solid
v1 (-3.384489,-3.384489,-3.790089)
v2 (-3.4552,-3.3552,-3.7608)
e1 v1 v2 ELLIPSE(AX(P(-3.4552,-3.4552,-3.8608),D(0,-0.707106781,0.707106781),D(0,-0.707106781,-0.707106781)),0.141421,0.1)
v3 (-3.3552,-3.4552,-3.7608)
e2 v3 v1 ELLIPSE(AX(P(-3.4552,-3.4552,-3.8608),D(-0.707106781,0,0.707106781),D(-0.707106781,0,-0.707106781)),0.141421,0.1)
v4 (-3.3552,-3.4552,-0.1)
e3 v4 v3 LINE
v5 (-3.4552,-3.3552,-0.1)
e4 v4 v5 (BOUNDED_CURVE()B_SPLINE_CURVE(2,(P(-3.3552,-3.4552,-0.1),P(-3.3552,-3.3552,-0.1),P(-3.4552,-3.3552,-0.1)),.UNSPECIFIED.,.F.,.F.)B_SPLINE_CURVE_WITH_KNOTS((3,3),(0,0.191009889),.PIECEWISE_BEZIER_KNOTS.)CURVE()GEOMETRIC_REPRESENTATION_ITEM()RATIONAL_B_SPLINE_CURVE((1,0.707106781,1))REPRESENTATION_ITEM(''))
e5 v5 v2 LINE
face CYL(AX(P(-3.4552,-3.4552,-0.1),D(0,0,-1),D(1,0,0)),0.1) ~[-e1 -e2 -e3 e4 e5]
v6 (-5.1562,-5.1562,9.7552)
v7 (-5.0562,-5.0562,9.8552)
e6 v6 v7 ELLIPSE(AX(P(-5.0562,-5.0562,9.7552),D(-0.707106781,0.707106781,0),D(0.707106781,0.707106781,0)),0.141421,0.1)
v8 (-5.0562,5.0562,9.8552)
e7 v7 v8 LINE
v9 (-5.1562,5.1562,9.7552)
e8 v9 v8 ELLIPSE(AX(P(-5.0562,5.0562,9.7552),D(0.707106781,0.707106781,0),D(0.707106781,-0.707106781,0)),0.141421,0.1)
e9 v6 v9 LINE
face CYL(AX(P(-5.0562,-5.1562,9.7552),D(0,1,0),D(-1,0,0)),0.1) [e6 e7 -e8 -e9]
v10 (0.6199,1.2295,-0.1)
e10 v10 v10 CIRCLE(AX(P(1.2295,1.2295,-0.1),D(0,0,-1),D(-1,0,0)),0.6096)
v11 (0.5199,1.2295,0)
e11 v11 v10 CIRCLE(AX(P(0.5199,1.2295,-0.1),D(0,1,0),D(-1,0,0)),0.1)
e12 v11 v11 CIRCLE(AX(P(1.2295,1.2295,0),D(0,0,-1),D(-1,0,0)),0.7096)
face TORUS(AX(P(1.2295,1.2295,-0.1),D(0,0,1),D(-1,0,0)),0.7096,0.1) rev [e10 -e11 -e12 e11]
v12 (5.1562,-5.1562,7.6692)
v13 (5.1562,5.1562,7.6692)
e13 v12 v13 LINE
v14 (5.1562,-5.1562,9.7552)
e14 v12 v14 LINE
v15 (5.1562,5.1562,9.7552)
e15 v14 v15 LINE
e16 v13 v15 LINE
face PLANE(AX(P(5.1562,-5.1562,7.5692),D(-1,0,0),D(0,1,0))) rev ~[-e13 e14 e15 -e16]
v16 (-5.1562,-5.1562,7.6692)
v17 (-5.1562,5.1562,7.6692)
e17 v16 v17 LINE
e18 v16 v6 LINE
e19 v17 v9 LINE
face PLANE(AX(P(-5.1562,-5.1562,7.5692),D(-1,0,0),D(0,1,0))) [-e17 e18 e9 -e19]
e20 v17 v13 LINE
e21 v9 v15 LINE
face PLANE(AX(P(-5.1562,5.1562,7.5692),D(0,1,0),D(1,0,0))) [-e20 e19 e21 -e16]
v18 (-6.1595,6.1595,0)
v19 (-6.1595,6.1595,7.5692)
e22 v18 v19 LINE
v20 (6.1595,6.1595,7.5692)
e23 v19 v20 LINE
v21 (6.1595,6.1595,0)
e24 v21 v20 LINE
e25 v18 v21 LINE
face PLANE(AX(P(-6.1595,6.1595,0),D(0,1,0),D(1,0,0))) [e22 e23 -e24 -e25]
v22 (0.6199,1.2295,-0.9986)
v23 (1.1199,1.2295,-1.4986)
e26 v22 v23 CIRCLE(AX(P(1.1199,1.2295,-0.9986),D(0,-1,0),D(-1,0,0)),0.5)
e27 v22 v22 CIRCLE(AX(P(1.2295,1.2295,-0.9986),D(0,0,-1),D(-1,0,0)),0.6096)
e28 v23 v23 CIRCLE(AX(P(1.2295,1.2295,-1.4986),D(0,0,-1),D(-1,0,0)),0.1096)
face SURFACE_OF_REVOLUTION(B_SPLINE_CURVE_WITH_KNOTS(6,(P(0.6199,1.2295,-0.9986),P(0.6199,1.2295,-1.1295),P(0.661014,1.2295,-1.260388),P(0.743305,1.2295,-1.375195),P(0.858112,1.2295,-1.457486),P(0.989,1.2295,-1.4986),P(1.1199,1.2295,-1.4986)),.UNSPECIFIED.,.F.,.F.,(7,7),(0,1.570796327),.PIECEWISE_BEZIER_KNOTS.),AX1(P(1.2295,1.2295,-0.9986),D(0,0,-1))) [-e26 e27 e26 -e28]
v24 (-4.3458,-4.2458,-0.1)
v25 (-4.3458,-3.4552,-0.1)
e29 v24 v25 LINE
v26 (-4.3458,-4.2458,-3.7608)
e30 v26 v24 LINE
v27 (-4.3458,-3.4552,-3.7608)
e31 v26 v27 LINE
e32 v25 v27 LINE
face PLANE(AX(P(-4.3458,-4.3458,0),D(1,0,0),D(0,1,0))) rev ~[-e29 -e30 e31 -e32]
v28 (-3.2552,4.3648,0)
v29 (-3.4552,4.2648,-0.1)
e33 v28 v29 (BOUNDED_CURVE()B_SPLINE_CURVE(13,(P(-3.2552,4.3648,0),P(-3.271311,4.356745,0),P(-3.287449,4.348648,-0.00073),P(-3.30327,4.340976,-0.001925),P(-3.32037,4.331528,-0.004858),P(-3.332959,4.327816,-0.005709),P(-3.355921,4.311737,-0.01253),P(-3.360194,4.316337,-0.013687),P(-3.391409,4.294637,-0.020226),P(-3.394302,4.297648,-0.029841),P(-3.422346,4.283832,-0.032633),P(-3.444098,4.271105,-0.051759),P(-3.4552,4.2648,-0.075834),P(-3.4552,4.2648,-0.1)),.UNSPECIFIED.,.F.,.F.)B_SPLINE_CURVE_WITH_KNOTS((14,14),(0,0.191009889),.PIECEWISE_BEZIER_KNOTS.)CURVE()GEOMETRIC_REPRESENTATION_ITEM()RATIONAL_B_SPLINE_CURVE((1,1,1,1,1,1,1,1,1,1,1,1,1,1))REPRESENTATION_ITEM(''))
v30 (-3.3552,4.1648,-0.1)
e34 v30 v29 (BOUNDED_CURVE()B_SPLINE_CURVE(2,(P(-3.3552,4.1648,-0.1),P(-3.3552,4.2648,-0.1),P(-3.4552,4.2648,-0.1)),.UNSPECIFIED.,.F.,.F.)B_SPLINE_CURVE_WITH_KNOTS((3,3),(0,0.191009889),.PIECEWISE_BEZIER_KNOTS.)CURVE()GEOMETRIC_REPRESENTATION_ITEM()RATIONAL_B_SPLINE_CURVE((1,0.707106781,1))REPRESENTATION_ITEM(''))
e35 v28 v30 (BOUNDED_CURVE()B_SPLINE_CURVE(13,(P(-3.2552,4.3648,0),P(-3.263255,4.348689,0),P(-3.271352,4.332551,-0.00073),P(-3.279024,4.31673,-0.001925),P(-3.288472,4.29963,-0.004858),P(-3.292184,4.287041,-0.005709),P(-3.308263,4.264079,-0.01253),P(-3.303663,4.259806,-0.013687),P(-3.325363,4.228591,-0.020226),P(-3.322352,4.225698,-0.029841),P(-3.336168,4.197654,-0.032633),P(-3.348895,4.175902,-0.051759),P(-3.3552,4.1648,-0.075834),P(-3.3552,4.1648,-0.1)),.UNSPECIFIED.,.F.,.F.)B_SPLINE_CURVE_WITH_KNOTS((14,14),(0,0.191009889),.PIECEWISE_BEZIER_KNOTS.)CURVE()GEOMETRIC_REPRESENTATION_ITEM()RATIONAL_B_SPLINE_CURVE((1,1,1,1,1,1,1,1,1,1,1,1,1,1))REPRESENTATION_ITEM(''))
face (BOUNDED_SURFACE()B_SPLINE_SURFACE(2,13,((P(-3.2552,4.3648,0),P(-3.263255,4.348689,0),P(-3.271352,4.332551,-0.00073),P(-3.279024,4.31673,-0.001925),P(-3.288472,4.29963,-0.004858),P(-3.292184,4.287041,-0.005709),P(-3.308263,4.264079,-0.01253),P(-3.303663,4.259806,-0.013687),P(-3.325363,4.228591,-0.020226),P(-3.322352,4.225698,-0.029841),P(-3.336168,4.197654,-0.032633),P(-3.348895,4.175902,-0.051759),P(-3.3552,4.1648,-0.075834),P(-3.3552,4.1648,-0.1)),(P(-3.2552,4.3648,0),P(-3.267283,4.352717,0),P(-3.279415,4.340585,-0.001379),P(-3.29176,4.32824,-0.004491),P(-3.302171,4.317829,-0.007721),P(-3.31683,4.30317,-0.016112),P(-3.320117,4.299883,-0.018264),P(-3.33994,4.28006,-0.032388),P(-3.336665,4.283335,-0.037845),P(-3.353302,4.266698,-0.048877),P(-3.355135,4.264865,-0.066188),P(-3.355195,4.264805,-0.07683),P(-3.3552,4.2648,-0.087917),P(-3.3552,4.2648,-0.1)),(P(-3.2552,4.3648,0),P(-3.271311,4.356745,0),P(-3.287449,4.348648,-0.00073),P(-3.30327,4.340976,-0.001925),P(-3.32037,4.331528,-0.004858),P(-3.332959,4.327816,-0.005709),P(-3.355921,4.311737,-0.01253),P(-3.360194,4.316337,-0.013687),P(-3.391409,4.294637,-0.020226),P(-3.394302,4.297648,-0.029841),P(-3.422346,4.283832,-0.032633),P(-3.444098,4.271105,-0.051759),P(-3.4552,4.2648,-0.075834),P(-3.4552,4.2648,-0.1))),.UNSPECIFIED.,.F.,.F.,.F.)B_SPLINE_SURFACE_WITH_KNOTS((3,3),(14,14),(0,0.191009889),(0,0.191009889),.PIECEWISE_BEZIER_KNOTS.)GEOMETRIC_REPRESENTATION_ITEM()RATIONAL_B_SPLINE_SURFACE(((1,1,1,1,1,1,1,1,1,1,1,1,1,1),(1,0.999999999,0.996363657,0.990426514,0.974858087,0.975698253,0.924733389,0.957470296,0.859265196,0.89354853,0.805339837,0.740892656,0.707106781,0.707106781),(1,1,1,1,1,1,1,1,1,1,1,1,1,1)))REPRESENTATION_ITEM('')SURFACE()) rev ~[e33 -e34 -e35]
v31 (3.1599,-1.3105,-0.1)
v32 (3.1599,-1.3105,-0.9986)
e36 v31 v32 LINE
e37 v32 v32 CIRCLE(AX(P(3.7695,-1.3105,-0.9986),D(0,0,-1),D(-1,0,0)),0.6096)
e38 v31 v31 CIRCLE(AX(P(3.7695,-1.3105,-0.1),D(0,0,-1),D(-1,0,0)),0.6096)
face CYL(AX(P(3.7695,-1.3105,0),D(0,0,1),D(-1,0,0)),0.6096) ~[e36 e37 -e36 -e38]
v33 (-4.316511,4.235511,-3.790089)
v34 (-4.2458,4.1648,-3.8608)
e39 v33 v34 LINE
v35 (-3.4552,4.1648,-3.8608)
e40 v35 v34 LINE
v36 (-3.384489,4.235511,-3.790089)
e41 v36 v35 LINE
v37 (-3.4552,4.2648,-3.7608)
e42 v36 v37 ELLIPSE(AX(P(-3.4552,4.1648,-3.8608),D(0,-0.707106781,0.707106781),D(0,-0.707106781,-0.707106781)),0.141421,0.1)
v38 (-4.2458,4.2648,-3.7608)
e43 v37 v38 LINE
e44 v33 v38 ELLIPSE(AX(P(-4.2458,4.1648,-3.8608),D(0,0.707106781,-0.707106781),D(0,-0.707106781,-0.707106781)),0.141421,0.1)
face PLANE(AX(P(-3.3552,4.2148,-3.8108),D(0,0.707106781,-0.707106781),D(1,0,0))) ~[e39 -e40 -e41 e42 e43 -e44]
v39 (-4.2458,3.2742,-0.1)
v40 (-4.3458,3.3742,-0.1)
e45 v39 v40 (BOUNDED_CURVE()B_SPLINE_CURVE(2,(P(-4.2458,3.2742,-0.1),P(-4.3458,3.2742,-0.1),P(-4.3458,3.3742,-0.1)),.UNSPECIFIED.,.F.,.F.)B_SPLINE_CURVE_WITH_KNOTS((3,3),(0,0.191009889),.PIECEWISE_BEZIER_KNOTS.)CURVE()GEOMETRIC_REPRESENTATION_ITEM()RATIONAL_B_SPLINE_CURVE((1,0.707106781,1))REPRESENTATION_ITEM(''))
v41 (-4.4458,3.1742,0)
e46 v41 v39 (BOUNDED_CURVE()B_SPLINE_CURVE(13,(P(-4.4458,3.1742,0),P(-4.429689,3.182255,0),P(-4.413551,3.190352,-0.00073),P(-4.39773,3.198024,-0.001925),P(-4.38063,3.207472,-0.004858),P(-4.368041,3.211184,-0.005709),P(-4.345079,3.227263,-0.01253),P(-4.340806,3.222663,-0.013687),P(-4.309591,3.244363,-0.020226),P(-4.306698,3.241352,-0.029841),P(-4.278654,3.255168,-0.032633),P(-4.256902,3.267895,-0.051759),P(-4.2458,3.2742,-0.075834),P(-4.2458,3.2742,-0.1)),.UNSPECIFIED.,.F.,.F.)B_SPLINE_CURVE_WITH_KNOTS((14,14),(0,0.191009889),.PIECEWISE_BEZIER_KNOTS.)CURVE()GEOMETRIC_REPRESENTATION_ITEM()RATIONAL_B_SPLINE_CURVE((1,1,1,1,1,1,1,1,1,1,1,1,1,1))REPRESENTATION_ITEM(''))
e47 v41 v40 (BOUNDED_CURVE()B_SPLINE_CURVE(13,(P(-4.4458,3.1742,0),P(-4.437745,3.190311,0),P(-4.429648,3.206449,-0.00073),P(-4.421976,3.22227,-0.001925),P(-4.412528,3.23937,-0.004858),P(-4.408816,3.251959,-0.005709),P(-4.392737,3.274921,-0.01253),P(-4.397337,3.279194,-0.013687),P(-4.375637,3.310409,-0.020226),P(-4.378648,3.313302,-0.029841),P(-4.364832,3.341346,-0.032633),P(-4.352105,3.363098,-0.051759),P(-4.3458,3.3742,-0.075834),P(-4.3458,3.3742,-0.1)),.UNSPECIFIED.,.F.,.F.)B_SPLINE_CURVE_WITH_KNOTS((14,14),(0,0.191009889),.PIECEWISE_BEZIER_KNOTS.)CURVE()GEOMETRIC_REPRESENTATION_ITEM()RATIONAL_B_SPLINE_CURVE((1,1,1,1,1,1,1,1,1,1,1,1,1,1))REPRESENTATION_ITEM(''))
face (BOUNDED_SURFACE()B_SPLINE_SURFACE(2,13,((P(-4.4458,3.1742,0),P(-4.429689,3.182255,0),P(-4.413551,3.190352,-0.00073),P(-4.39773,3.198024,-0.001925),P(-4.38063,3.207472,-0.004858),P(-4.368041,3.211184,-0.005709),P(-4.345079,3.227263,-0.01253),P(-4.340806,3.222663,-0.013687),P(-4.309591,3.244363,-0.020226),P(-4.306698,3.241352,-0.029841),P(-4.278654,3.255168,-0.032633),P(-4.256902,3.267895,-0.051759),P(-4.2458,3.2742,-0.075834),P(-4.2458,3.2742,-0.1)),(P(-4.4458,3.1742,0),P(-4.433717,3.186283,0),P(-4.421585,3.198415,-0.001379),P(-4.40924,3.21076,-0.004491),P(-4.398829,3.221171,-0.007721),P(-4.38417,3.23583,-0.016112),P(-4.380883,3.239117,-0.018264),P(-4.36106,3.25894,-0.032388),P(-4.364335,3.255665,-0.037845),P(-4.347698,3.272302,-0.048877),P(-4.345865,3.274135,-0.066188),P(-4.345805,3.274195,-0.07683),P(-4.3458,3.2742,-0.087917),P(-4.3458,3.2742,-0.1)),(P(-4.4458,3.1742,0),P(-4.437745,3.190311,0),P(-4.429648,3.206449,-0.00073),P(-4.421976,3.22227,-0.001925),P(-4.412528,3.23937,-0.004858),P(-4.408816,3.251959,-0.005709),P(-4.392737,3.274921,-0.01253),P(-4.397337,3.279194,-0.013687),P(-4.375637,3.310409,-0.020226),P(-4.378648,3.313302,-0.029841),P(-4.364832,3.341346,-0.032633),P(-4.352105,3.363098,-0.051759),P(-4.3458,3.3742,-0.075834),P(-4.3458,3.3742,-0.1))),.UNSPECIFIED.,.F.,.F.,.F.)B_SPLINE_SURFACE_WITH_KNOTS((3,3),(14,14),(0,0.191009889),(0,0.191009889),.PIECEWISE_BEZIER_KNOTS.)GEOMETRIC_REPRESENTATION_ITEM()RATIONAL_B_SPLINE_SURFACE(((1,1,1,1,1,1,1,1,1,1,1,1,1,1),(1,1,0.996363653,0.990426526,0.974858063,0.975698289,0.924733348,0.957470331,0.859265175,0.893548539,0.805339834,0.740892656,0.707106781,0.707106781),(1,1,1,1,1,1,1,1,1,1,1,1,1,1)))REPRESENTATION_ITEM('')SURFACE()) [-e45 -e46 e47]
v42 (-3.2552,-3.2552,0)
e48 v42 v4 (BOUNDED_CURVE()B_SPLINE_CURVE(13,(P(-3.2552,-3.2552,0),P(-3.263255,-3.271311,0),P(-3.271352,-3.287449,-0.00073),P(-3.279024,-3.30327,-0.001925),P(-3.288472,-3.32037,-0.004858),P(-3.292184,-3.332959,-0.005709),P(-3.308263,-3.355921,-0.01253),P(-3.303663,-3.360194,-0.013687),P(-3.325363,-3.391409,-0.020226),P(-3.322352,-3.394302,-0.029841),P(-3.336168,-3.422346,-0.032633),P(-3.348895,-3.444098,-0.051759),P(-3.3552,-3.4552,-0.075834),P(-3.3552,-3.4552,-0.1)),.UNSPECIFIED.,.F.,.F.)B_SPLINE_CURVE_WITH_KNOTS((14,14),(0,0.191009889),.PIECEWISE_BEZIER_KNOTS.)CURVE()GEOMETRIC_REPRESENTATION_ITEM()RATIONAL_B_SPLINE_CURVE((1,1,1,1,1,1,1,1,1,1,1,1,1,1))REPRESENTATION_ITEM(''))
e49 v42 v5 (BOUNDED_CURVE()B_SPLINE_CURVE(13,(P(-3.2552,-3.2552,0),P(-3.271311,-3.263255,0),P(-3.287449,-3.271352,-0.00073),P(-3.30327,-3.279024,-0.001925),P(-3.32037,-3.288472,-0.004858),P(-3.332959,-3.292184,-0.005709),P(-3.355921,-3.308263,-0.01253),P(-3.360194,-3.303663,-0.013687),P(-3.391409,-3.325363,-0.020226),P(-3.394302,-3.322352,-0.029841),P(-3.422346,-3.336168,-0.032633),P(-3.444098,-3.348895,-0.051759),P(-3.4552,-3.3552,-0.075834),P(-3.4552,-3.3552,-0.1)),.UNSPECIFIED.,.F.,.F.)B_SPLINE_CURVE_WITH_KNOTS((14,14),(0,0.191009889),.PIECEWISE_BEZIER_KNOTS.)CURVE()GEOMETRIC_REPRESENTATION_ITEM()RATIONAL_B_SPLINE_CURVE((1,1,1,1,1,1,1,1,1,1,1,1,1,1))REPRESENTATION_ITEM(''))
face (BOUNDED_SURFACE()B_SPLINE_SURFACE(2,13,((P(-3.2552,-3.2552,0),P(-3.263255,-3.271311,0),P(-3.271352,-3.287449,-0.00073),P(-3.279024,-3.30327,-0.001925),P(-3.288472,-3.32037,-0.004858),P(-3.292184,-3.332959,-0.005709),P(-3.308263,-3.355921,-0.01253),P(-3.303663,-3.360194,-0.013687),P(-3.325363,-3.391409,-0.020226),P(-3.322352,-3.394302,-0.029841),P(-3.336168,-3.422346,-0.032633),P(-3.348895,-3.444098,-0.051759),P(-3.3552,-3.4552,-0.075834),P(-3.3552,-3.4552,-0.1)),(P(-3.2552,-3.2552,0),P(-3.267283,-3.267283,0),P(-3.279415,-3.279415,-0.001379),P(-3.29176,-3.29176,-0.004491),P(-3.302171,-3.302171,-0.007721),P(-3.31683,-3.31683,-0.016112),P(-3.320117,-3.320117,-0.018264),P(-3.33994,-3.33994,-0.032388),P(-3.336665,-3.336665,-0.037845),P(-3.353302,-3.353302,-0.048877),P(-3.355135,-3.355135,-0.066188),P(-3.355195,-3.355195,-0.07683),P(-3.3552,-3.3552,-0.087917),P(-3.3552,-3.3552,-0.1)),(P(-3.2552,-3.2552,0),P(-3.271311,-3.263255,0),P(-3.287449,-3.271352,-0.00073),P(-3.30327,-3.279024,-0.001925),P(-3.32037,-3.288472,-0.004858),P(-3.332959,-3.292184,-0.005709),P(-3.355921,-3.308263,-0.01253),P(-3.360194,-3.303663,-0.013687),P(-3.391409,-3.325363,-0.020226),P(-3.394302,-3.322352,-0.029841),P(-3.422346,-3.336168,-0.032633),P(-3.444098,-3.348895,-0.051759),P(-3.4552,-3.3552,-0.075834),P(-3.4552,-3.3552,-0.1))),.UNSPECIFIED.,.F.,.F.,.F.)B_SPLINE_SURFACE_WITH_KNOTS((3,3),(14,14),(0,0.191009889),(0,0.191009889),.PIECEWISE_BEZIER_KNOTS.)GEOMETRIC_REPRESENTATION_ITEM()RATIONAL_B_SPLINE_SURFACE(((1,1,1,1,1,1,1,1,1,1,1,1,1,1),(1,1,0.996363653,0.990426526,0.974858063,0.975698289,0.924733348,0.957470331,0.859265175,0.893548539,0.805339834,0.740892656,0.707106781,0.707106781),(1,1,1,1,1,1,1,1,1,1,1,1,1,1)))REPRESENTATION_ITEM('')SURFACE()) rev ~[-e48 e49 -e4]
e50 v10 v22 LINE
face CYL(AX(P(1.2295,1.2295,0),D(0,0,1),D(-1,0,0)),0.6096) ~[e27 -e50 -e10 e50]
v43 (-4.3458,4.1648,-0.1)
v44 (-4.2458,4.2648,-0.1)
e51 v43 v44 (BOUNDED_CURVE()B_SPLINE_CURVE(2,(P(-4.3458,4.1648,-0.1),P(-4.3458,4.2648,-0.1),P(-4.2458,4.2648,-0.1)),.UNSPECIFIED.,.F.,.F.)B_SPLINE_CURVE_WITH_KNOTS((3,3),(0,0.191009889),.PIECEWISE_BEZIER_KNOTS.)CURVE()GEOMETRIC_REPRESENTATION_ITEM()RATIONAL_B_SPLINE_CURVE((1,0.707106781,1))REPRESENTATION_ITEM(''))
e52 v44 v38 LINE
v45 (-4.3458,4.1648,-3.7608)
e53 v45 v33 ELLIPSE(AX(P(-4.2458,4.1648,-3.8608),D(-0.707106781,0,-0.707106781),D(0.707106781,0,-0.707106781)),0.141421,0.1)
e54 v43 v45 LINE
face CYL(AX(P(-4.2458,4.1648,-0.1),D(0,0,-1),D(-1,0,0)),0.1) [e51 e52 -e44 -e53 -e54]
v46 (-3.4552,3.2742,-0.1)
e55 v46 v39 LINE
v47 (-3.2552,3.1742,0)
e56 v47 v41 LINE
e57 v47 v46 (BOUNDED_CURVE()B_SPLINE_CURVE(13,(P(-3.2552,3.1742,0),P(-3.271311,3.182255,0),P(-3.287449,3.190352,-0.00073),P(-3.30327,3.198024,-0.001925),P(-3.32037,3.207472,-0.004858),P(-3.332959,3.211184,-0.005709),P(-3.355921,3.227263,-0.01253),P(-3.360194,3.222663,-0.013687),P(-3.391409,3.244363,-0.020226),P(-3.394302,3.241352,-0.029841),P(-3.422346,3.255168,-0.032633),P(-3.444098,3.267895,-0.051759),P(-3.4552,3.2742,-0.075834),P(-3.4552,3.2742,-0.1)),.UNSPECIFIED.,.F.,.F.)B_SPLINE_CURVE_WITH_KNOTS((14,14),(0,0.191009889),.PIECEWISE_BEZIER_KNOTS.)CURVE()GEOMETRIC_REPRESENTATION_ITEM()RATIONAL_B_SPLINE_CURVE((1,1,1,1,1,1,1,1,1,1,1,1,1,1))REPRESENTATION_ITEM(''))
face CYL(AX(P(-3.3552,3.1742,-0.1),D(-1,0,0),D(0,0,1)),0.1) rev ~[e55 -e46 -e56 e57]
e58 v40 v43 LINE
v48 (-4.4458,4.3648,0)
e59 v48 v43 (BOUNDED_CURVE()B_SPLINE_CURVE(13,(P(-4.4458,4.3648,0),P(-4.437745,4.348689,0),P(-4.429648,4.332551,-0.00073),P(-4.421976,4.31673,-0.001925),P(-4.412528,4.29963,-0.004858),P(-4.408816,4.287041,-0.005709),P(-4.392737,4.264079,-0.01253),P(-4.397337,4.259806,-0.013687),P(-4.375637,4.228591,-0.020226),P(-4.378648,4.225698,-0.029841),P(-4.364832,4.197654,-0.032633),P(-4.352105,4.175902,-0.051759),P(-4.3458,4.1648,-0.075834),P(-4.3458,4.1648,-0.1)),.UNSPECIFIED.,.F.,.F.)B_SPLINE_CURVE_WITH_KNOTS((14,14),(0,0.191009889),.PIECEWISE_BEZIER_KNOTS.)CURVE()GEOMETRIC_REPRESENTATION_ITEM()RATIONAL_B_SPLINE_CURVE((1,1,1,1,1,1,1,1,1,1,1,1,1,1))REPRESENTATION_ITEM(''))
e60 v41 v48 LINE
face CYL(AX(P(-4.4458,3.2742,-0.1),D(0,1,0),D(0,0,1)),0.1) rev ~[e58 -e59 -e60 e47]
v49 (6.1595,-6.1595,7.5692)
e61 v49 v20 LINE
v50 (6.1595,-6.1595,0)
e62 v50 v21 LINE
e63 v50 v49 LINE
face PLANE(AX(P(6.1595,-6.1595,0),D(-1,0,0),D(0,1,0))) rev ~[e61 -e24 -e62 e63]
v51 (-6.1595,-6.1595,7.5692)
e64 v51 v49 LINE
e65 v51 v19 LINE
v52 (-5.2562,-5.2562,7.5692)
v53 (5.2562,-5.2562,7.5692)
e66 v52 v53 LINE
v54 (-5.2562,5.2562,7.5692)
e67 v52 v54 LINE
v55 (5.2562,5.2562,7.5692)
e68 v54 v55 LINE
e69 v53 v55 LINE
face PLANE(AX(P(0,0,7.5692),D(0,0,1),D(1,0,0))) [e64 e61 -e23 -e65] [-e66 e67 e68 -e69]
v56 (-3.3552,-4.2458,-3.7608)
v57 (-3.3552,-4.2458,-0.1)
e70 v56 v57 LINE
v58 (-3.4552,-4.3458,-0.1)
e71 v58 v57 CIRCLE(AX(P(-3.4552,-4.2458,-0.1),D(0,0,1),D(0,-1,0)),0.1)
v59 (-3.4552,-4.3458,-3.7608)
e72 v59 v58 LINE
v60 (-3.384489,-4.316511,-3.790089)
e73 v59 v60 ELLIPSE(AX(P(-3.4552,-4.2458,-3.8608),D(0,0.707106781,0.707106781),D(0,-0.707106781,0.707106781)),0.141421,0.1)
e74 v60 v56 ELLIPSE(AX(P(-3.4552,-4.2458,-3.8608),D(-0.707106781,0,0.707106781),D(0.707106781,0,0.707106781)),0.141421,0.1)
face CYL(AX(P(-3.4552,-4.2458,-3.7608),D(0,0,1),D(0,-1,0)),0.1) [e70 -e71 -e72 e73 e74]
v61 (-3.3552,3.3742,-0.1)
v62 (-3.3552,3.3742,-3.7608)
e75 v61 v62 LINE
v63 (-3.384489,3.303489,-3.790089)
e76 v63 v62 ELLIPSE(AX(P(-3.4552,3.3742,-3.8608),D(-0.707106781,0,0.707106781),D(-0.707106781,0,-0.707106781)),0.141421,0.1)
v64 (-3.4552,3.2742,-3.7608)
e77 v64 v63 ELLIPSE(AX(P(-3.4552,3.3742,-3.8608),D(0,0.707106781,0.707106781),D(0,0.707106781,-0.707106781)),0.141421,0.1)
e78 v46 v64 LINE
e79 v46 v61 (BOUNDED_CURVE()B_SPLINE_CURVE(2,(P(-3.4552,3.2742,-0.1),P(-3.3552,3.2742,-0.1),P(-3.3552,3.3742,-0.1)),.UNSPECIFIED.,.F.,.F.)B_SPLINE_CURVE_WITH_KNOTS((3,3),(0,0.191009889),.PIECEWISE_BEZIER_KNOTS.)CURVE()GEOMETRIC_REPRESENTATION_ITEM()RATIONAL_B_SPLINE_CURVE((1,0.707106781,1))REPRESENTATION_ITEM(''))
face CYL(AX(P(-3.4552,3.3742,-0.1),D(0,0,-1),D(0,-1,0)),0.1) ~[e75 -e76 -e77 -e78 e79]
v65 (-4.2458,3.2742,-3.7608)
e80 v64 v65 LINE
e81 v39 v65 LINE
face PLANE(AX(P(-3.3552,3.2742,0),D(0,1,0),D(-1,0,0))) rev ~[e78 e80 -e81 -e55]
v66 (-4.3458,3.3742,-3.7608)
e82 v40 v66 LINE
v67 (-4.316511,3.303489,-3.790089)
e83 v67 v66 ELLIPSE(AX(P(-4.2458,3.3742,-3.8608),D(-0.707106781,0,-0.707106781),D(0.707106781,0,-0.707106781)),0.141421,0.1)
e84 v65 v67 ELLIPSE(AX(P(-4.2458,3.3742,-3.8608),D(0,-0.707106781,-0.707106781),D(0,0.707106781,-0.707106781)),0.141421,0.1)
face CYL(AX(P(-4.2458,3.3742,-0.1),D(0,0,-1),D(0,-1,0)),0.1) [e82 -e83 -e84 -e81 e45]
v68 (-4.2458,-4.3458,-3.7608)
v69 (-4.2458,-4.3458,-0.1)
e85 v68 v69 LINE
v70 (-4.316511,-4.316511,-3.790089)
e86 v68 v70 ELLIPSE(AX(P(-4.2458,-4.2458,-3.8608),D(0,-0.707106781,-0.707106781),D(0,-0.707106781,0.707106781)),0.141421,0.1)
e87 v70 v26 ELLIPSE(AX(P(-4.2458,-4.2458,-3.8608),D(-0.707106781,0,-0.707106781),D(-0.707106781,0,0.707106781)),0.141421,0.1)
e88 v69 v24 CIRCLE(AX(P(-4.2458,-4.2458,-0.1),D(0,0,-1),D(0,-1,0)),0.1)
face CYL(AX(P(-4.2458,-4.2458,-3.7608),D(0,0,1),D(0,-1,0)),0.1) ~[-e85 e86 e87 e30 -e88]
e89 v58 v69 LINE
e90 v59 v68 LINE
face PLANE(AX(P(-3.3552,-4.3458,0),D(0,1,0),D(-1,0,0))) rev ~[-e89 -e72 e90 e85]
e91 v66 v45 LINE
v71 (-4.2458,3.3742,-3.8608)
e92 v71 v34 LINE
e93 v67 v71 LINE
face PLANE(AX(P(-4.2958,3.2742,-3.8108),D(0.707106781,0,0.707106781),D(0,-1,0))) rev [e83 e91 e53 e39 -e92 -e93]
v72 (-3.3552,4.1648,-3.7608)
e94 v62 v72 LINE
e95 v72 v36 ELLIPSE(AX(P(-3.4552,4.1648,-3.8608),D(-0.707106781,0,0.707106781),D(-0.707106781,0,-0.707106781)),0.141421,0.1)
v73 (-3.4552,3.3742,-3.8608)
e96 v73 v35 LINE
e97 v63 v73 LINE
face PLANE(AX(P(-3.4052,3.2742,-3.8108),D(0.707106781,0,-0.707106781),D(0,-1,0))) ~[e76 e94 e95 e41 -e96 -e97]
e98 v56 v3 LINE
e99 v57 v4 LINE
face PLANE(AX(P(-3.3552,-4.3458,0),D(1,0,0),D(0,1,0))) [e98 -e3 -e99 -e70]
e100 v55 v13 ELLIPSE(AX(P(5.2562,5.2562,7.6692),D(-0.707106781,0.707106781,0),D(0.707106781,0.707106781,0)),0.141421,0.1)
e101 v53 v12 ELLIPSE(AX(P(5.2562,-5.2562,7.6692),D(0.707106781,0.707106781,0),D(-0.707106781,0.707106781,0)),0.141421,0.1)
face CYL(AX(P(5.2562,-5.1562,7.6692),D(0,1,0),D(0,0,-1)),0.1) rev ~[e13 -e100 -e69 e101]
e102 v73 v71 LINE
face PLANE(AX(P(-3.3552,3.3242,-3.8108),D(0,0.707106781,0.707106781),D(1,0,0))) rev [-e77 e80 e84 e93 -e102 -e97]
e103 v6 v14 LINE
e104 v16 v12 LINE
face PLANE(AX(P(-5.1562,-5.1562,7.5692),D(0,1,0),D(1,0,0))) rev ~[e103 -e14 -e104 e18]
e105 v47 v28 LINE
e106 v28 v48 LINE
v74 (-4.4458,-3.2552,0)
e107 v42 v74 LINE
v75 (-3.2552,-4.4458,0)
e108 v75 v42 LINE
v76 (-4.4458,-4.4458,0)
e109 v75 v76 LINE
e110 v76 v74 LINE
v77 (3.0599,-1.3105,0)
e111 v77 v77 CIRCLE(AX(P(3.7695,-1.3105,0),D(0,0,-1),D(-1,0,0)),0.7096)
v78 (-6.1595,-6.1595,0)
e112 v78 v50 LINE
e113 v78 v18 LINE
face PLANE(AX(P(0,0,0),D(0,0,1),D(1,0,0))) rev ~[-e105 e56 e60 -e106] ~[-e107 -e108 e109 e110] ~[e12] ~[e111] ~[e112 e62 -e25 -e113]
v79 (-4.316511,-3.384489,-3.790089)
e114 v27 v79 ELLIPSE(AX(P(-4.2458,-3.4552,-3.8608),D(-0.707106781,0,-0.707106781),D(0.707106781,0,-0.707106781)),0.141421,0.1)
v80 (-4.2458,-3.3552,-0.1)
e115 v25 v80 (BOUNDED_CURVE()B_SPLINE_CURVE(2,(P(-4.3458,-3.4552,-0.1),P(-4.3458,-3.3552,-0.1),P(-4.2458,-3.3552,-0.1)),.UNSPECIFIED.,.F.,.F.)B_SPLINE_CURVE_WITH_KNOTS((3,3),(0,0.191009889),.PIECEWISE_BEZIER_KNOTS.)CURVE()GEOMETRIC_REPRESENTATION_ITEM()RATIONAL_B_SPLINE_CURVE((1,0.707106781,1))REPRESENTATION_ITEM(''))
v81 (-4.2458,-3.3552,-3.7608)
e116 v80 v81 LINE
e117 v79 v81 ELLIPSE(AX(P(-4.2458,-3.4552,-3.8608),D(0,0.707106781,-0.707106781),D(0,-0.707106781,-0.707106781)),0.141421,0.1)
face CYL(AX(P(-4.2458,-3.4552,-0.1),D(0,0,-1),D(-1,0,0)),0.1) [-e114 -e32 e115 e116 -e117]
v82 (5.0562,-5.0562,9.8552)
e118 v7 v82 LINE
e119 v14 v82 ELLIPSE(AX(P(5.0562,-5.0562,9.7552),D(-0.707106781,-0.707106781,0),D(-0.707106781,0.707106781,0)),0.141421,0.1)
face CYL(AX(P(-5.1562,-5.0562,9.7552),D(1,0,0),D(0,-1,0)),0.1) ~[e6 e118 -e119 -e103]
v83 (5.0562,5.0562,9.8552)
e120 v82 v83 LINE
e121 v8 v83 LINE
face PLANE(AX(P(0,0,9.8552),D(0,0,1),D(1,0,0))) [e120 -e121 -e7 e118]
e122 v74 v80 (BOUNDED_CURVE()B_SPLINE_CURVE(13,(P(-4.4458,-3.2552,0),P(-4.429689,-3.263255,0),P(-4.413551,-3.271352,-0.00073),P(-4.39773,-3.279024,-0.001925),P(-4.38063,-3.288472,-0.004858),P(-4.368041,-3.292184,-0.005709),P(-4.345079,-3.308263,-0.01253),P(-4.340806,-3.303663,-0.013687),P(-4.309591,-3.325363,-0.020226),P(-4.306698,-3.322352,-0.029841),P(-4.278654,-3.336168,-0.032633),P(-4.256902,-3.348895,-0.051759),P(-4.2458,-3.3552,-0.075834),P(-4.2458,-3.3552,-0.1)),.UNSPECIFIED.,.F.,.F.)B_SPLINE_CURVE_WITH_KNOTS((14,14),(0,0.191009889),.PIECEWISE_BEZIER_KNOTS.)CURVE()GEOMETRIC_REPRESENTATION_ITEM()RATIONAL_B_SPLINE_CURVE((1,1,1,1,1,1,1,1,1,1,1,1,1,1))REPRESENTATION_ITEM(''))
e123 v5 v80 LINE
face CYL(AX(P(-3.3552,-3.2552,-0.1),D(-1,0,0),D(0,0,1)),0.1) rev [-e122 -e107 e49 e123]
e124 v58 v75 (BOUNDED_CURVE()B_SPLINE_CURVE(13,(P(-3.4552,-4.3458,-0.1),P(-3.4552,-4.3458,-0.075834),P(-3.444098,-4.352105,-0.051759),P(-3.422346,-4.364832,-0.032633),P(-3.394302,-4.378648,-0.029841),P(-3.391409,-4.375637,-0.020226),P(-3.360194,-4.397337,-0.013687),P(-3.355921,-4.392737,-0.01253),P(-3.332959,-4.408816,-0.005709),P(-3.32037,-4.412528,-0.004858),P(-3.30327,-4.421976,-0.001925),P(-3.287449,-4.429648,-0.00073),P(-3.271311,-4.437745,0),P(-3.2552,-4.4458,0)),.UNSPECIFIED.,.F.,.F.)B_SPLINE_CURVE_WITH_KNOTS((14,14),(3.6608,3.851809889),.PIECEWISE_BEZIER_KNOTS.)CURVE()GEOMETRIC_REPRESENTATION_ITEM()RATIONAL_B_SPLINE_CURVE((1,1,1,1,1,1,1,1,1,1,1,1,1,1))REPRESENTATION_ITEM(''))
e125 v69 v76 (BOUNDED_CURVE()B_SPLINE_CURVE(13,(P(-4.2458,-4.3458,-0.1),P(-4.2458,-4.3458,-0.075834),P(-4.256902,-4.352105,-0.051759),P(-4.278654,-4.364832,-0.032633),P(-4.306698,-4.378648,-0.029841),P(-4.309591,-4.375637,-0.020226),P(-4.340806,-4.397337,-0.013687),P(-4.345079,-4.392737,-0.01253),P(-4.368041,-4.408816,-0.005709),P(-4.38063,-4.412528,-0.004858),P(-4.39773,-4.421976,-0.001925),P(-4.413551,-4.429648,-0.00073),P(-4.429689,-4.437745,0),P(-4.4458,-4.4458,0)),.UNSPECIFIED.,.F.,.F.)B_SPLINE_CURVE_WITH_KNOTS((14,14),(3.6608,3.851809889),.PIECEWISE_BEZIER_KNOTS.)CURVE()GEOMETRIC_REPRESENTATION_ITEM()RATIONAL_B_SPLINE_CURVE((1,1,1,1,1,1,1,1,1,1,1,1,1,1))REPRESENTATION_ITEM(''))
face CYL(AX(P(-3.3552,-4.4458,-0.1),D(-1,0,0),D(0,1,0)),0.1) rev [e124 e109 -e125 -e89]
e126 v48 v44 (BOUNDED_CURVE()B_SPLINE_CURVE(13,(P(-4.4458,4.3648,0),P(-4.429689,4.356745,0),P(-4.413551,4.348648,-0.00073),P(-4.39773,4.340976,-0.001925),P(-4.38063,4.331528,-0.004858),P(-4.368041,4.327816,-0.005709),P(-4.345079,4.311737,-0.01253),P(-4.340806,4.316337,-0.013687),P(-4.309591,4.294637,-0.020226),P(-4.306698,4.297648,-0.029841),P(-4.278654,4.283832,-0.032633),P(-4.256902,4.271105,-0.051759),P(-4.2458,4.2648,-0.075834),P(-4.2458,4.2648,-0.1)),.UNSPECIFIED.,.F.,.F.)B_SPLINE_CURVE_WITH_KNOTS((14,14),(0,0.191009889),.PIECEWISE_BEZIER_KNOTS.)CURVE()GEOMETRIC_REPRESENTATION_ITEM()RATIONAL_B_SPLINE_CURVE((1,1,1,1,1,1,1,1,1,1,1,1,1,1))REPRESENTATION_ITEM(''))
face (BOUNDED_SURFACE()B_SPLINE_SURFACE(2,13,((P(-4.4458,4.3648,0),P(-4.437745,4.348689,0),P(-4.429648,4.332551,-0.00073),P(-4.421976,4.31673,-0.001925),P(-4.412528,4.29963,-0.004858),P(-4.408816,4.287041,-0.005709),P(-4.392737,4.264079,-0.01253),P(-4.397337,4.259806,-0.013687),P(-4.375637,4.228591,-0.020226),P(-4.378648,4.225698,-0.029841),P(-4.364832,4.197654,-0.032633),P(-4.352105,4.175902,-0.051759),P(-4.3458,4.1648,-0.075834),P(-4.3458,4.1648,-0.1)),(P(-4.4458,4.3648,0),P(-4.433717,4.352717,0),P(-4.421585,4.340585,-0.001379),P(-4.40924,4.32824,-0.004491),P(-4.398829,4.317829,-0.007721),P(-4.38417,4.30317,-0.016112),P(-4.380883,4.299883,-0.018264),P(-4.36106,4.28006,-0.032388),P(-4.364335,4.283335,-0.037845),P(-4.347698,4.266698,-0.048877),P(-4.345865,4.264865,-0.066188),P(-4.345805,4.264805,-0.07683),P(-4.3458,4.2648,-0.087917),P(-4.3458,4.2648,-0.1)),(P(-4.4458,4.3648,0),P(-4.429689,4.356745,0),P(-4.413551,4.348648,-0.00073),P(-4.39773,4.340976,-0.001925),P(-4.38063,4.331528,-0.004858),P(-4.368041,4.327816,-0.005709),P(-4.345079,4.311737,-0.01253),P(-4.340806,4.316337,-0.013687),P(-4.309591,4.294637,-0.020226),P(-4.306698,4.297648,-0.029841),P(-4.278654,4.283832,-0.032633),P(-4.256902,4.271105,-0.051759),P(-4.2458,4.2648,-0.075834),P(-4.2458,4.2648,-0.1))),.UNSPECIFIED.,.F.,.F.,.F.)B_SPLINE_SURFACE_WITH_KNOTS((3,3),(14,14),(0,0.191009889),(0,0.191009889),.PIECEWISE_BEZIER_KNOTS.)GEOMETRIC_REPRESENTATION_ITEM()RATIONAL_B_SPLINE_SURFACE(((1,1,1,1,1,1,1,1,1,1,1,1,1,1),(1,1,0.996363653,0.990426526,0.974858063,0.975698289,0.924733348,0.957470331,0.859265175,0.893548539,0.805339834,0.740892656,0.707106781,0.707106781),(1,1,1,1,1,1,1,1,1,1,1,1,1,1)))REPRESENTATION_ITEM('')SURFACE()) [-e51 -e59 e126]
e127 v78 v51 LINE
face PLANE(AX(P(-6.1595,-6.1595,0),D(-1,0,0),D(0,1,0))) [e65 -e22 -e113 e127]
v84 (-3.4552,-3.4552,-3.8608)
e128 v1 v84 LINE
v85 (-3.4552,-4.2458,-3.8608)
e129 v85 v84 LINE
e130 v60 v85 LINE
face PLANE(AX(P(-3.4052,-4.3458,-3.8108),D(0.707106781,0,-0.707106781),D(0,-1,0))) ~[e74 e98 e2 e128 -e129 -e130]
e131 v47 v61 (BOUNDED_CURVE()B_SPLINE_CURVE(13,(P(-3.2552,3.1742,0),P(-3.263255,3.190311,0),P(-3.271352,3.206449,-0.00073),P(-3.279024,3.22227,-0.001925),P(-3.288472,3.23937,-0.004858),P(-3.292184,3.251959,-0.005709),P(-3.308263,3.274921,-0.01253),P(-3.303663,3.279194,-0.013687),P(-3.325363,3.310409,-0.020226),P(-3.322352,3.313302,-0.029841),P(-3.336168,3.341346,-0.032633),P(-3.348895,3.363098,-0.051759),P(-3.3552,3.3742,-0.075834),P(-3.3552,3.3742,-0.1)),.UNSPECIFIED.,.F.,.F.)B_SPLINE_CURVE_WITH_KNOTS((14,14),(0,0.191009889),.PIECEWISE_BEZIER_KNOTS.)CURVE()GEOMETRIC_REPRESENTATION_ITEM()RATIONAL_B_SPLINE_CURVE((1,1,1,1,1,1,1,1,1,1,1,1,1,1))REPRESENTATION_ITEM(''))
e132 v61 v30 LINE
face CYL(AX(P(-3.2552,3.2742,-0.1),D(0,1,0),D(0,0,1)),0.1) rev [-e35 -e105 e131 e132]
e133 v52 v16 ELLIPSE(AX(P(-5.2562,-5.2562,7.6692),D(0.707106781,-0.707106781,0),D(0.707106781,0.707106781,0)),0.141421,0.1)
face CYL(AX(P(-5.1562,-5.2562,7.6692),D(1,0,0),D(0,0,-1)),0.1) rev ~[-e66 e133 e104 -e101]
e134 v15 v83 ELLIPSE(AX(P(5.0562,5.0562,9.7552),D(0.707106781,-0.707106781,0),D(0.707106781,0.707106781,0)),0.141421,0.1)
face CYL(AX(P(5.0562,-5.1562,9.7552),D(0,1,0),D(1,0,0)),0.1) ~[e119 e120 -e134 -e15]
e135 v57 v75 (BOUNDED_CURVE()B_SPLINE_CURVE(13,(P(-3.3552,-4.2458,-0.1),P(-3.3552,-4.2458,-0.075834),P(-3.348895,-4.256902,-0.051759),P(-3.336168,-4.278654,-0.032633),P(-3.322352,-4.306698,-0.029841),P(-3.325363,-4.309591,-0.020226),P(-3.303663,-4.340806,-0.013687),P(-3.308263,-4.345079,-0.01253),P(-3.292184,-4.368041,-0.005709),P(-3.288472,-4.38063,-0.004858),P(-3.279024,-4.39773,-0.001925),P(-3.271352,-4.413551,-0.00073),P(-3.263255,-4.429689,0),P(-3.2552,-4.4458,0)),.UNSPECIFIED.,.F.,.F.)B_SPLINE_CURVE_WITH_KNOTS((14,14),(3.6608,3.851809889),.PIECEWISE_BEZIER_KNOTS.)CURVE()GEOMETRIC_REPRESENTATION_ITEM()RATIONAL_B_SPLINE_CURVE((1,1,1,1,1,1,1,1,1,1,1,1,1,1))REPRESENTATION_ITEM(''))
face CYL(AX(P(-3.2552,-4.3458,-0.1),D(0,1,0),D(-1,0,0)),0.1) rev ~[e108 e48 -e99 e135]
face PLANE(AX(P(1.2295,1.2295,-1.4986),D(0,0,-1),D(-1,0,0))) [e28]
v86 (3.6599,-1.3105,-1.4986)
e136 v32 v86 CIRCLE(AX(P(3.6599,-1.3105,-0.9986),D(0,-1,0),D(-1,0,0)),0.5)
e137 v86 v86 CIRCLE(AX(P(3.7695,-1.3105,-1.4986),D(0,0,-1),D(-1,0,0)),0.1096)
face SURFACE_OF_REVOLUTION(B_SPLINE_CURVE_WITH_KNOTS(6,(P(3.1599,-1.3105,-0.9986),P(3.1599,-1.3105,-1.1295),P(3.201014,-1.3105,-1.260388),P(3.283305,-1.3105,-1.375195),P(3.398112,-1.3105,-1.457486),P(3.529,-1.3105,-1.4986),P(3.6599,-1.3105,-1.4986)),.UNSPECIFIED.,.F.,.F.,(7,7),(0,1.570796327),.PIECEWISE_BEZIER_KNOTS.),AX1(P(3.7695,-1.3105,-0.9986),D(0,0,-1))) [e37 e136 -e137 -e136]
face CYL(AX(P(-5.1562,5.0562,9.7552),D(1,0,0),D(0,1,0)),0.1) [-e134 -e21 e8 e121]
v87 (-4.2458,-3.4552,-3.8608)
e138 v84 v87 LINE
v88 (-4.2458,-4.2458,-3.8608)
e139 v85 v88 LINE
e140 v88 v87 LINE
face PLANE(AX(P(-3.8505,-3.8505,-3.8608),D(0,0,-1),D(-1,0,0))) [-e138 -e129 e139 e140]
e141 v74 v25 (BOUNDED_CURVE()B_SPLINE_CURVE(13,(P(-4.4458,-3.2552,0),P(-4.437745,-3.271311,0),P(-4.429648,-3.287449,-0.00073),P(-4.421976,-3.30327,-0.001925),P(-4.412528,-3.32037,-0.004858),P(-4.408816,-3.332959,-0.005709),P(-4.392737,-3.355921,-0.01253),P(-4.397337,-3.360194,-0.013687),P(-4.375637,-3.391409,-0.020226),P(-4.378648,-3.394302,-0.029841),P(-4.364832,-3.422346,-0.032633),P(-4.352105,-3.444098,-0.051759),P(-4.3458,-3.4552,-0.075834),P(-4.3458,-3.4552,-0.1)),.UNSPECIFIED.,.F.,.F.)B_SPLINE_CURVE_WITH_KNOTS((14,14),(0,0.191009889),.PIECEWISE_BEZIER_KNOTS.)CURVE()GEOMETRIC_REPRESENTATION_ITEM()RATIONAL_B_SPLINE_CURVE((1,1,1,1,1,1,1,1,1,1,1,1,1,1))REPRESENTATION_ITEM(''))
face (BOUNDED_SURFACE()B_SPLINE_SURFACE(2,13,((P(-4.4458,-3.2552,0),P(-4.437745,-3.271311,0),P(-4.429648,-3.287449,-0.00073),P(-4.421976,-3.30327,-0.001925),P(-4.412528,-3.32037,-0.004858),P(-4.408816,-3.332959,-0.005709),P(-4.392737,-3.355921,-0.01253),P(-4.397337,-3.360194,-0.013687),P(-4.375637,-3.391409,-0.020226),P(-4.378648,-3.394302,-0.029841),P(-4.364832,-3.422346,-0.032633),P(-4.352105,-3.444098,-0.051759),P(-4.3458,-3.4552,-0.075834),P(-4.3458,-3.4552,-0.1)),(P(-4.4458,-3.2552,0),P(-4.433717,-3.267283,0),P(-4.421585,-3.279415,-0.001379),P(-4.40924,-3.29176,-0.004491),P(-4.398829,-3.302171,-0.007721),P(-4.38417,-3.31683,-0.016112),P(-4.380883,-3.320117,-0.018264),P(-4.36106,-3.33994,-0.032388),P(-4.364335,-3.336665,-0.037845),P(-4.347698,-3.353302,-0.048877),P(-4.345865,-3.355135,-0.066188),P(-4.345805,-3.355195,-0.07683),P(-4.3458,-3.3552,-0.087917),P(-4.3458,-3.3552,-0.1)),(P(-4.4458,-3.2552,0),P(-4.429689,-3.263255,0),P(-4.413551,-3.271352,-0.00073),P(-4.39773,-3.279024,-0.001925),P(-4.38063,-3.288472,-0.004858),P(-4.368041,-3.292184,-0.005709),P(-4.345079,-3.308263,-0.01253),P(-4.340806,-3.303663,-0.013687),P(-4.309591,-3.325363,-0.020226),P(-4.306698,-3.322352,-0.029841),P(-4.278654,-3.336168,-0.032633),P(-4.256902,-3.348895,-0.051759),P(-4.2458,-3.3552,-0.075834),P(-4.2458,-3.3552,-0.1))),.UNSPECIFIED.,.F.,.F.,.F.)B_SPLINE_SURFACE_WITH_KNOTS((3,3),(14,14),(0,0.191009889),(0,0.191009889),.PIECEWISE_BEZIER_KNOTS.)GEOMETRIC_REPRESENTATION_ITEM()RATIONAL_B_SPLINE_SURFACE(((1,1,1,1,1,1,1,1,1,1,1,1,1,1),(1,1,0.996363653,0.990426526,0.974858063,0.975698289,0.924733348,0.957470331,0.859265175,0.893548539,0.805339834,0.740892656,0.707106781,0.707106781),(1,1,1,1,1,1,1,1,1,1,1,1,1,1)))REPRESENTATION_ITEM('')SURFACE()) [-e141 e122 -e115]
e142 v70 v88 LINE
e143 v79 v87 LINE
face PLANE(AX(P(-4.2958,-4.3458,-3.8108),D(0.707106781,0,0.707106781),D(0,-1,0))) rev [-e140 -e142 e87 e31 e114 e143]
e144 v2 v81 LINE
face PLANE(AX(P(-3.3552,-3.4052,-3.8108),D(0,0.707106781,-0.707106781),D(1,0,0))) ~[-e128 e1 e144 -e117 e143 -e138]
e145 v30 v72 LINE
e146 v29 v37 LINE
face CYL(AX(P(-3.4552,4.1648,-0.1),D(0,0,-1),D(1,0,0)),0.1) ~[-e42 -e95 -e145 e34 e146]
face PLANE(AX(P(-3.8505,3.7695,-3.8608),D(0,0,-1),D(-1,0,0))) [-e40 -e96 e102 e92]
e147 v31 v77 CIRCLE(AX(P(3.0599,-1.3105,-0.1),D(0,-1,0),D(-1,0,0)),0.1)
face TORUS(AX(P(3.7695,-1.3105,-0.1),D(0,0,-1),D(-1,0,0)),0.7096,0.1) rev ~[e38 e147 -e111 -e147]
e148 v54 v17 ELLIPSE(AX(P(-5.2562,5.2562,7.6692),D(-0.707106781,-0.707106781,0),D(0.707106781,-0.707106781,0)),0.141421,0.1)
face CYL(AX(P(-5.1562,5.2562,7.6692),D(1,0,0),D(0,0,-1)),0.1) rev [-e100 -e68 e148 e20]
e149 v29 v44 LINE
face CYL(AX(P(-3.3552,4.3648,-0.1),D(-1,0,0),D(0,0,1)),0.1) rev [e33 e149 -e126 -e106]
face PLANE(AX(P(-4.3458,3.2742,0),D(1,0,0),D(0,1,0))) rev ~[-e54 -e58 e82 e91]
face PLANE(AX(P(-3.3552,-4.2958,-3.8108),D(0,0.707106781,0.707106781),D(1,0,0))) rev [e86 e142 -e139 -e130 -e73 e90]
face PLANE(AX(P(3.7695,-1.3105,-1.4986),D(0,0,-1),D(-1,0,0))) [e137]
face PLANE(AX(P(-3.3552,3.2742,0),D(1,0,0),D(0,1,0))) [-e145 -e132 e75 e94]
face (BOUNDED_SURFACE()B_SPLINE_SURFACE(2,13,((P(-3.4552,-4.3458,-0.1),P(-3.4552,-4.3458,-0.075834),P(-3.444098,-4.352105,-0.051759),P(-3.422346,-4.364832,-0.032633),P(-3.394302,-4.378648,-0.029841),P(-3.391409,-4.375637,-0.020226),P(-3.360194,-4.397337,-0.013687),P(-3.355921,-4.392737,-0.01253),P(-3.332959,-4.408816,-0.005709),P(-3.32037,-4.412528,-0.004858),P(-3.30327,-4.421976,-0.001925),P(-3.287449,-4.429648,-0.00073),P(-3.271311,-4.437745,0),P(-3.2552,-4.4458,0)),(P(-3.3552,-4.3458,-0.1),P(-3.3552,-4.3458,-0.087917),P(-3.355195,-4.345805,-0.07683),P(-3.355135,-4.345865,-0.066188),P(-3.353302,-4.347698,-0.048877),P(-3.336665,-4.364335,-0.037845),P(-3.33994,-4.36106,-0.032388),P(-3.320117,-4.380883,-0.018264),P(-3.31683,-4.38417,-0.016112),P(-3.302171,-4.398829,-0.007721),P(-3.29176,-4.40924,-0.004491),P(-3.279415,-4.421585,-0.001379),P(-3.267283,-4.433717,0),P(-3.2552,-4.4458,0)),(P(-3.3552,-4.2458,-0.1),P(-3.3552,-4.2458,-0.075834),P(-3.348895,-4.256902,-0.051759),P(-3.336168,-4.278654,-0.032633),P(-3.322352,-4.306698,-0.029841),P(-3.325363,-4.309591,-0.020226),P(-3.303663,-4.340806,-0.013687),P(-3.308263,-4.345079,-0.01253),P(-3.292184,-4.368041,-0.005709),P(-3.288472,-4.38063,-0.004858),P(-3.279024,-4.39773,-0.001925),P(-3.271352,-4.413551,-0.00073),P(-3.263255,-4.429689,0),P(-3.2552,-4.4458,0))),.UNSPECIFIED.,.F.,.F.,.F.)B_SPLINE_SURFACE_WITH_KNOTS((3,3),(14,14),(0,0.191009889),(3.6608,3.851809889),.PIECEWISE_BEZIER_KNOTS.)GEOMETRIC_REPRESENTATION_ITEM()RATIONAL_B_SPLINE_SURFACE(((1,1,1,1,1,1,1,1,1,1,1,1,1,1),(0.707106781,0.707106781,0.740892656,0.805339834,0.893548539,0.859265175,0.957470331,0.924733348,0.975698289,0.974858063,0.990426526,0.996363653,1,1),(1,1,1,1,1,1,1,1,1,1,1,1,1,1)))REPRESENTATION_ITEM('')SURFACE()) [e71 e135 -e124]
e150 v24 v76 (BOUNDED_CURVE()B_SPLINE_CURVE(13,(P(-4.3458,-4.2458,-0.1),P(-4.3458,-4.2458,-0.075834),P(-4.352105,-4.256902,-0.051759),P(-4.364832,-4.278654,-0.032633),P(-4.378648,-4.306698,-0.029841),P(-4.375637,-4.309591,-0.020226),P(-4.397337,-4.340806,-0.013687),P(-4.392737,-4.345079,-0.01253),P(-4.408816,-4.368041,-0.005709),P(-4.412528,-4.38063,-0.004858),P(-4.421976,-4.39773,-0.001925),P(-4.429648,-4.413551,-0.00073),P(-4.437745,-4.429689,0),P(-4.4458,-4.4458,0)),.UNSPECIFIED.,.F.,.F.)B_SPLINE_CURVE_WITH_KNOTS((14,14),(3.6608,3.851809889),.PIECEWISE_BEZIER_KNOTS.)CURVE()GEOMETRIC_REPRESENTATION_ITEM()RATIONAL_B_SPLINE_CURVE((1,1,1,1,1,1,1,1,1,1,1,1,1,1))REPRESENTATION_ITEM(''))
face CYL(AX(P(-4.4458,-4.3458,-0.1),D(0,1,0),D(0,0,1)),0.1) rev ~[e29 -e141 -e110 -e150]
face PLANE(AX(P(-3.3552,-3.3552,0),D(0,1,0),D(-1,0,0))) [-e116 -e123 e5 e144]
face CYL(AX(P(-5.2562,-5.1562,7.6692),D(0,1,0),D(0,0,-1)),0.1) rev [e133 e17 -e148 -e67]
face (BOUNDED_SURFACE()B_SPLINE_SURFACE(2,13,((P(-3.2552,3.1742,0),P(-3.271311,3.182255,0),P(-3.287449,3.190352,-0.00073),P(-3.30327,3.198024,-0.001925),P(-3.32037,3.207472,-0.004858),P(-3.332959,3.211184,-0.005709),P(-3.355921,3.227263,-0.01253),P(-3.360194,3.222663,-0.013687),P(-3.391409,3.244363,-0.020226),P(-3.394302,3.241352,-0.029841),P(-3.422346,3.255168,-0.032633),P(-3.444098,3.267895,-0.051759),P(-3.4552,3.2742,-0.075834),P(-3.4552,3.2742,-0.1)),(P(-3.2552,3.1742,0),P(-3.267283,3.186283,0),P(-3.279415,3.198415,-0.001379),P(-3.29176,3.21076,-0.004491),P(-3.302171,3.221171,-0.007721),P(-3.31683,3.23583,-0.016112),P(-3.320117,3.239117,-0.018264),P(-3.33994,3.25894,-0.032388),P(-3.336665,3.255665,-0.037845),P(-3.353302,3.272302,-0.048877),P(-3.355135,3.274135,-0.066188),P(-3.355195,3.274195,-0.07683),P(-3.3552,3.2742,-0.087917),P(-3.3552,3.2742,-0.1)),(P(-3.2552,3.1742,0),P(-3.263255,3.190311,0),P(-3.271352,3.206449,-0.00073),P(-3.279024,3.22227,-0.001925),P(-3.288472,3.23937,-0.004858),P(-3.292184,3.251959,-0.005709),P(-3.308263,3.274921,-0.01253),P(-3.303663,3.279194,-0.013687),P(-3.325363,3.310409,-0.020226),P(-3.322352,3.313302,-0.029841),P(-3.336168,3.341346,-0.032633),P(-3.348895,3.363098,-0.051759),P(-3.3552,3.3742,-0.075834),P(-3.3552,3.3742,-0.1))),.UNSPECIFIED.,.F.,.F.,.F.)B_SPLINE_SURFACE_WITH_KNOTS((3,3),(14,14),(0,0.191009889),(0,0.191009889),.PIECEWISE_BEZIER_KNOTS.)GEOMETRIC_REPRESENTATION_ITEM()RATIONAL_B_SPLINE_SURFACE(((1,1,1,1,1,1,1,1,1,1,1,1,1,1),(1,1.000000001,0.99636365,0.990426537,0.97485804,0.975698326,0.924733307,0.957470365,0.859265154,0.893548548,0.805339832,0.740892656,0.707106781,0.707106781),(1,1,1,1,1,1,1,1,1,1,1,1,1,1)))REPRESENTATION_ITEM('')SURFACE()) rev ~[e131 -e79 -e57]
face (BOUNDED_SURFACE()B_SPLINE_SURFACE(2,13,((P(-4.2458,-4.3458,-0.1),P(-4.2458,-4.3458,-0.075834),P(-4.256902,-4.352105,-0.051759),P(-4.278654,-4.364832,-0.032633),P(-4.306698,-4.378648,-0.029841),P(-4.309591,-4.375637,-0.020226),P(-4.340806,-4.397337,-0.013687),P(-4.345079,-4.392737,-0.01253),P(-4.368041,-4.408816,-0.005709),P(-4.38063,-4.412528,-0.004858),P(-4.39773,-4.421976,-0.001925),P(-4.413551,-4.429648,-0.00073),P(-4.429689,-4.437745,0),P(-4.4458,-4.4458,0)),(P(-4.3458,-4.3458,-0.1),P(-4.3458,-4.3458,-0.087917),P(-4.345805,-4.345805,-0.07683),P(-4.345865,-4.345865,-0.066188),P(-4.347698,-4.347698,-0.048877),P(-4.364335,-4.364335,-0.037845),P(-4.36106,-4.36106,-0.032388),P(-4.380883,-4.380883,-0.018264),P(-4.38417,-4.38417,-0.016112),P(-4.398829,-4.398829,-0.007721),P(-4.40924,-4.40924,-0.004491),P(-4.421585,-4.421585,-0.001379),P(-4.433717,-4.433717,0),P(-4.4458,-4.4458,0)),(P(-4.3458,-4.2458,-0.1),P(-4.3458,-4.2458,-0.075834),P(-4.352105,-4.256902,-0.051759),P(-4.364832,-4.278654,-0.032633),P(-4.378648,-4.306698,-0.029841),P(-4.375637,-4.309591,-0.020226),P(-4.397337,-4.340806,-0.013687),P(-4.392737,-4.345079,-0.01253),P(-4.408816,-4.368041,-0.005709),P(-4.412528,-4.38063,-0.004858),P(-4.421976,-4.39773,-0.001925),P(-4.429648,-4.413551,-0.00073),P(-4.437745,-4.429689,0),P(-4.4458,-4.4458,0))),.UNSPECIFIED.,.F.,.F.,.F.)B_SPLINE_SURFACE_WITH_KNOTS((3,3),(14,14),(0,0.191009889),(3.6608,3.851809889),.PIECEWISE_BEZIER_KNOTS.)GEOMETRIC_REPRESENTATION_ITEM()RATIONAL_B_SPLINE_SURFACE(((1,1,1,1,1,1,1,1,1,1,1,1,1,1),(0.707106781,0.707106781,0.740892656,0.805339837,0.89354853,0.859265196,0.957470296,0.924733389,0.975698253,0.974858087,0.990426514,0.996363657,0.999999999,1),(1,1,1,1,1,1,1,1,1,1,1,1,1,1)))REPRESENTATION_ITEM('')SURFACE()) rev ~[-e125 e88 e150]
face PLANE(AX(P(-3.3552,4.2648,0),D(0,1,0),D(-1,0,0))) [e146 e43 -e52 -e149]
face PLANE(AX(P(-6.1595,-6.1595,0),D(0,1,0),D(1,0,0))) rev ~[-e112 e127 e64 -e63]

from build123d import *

# Parameters (mm, degrees)
SKETCH1_W           = 12.319
SKETCH1_H           = 12.319
BOSS_EXTRUDE1_DEPTH = 7.5692
SKETCH2_W           = 10.3124
SKETCH2_H           = 10.3124
BOSS_EXTRUDE2_DEPTH = 2.286
SKETCH3_R           = 0.6096
BOSS_EXTRUDE5_DEPTH = 1.4986
FILLET2_R           = 0.5
FILLET3_R           = 0.1
SKETCH5_W           = 0.9906
SKETCH5_H           = 0.9906
BOSS_EXTRUDE6_DEPTH = 3.8608
CHAMFER1_SIZE       = 0.1
FILLET4_R           = 0.1
FILLET5_R           = 0.1
FILLET6_R           = 0.1
FILLET7_R           = 0.1


with BuildPart() as part:
    # Sketch1 → Boss-Extrude1 (new body)
    with BuildSketch(Plane.XY):
        Rectangle(SKETCH1_W, SKETCH1_H)
    extrude(amount=BOSS_EXTRUDE1_DEPTH)

    # Sketch2 → Boss-Extrude2 (add)
    with BuildSketch(Plane.XY.offset(7.5692)):
        Rectangle(SKETCH2_W, SKETCH2_H)
    extrude(amount=BOSS_EXTRUDE2_DEPTH)

    # Sketch3 → Boss-Extrude5 (add)
    with BuildSketch(Plane(origin=(0, 0, 0), x_dir=(-1, 0, 0), z_dir=(0, 0, -1))):
        with Locations((-1.2295, 1.2295)):
            Circle(SKETCH3_R)
        with Locations((-3.7695, -1.3105)):
            Circle(SKETCH3_R)
    extrude(amount=BOSS_EXTRUDE5_DEPTH)

    # Fillet2
    fillet2_edges = [part.edges().sort_by_distance(p)[0] for p in [
        (1.8391, 1.2295, -1.4986),
        (4.3791, -1.3105, -1.4986),
    ]]
    fillet(fillet2_edges, radius=FILLET2_R)

    # Fillet3
    fillet3_edges = [part.edges().sort_by_distance(p)[0] for p in [
        (1.8391, 1.2295, 0),
        (4.3791, -1.3105, 0),
    ]]
    fillet(fillet3_edges, radius=FILLET3_R)

    # Sketch5 → Boss-Extrude6 (add)
    with BuildSketch(Plane(origin=(0, 0, 0), x_dir=(-1, 0, 0), z_dir=(0, 0, -1))):
        with Locations((3.8505, -3.8505)):
            Rectangle(SKETCH5_W, SKETCH5_H)
        with Locations((3.8505, 3.7695)):
            Rectangle(SKETCH5_W, SKETCH5_H)
    extrude(amount=BOSS_EXTRUDE6_DEPTH)

    # Chamfer1
    chamfer1_edges = [part.edges().sort_by_distance(p)[0] for p in [
        (-3.8505, -3.3552, -3.8608),
        (-3.3552, -3.8505, -3.8608),
        (-3.8505, -4.3458, -3.8608),
        (-4.3458, -3.8505, -3.8608),
        (-3.3552, 3.7695, -3.8608),
        (-3.8505, 4.2648, -3.8608),
        (-3.8505, 3.2742, -3.8608),
        (-4.3458, 3.7695, -3.8608),
    ]]
    chamfer(chamfer1_edges, length=CHAMFER1_SIZE)

    # Fillet4
    fillet4_edges = [part.edges().sort_by_distance(p)[0] for p in [
        (-3.8505, -4.3458, 0),
        (-4.3458, -3.8505, 0),
        (-3.8505, -3.3552, 0),
        (-3.3552, -3.8505, 0),
        (-3.8505, 3.2742, 0),
        (-4.3458, 3.7695, 0),
        (-3.3552, 3.7695, 0),
        (-3.8505, 4.2648, 0),
    ]]
    fillet(fillet4_edges, radius=FILLET4_R)

    # Fillet5
    fillet5_edges = [part.edges().sort_by_distance(p)[0] for p in [
        (5.1562, 0, 7.5692),
        (0, 5.1562, 7.5692),
        (-5.1562, 0, 7.5692),
        (0, -5.1562, 7.5692),
    ]]
    fillet(fillet5_edges, radius=FILLET5_R)

    # Fillet6
    fillet6_edges = [part.edges().sort_by_distance(p)[0] for p in [
        (-4.381195109, 3.238804891, -0.023670398),
        (-4.381195109, 4.300195109, -0.023670398),
        (-3.319804891, 3.238804891, -0.023670398),
        (-3.319804891, 4.300195109, -0.023670398),
        (-3.319804891, -4.381195109, -0.023670398),
        (-4.381195109, -4.381195109, -0.023670398),
        (-3.319804891, -3.319804891, -0.023670398),
        (-4.381195109, -3.319804891, -0.023670398),
        (-3.3552, -4.3458, -1.9304),
        (-3.3552, -3.3552, -1.9304),
        (-4.3458, -4.3458, -1.9304),
        (-4.3458, -3.3552, -1.9304),
        (-3.3552, 3.2742, -1.9304),
        (-3.3552, 4.2648, -1.9304),
        (-4.3458, 3.2742, -1.9304),
        (-4.3458, 4.2648, -1.9304),
    ]]
    fillet(fillet6_edges, radius=FILLET6_R)

    # Fillet7
    fillet7_edges = [part.edges().sort_by_distance(p)[0] for p in [
        (5.1562, 0, 9.8552),
        (0, 5.1562, 9.8552),
        (-5.1562, 0, 9.8552),
        (0, -5.1562, 9.8552),
    ]]
    fillet(fillet7_edges, radius=FILLET7_R)


solid = part.part
